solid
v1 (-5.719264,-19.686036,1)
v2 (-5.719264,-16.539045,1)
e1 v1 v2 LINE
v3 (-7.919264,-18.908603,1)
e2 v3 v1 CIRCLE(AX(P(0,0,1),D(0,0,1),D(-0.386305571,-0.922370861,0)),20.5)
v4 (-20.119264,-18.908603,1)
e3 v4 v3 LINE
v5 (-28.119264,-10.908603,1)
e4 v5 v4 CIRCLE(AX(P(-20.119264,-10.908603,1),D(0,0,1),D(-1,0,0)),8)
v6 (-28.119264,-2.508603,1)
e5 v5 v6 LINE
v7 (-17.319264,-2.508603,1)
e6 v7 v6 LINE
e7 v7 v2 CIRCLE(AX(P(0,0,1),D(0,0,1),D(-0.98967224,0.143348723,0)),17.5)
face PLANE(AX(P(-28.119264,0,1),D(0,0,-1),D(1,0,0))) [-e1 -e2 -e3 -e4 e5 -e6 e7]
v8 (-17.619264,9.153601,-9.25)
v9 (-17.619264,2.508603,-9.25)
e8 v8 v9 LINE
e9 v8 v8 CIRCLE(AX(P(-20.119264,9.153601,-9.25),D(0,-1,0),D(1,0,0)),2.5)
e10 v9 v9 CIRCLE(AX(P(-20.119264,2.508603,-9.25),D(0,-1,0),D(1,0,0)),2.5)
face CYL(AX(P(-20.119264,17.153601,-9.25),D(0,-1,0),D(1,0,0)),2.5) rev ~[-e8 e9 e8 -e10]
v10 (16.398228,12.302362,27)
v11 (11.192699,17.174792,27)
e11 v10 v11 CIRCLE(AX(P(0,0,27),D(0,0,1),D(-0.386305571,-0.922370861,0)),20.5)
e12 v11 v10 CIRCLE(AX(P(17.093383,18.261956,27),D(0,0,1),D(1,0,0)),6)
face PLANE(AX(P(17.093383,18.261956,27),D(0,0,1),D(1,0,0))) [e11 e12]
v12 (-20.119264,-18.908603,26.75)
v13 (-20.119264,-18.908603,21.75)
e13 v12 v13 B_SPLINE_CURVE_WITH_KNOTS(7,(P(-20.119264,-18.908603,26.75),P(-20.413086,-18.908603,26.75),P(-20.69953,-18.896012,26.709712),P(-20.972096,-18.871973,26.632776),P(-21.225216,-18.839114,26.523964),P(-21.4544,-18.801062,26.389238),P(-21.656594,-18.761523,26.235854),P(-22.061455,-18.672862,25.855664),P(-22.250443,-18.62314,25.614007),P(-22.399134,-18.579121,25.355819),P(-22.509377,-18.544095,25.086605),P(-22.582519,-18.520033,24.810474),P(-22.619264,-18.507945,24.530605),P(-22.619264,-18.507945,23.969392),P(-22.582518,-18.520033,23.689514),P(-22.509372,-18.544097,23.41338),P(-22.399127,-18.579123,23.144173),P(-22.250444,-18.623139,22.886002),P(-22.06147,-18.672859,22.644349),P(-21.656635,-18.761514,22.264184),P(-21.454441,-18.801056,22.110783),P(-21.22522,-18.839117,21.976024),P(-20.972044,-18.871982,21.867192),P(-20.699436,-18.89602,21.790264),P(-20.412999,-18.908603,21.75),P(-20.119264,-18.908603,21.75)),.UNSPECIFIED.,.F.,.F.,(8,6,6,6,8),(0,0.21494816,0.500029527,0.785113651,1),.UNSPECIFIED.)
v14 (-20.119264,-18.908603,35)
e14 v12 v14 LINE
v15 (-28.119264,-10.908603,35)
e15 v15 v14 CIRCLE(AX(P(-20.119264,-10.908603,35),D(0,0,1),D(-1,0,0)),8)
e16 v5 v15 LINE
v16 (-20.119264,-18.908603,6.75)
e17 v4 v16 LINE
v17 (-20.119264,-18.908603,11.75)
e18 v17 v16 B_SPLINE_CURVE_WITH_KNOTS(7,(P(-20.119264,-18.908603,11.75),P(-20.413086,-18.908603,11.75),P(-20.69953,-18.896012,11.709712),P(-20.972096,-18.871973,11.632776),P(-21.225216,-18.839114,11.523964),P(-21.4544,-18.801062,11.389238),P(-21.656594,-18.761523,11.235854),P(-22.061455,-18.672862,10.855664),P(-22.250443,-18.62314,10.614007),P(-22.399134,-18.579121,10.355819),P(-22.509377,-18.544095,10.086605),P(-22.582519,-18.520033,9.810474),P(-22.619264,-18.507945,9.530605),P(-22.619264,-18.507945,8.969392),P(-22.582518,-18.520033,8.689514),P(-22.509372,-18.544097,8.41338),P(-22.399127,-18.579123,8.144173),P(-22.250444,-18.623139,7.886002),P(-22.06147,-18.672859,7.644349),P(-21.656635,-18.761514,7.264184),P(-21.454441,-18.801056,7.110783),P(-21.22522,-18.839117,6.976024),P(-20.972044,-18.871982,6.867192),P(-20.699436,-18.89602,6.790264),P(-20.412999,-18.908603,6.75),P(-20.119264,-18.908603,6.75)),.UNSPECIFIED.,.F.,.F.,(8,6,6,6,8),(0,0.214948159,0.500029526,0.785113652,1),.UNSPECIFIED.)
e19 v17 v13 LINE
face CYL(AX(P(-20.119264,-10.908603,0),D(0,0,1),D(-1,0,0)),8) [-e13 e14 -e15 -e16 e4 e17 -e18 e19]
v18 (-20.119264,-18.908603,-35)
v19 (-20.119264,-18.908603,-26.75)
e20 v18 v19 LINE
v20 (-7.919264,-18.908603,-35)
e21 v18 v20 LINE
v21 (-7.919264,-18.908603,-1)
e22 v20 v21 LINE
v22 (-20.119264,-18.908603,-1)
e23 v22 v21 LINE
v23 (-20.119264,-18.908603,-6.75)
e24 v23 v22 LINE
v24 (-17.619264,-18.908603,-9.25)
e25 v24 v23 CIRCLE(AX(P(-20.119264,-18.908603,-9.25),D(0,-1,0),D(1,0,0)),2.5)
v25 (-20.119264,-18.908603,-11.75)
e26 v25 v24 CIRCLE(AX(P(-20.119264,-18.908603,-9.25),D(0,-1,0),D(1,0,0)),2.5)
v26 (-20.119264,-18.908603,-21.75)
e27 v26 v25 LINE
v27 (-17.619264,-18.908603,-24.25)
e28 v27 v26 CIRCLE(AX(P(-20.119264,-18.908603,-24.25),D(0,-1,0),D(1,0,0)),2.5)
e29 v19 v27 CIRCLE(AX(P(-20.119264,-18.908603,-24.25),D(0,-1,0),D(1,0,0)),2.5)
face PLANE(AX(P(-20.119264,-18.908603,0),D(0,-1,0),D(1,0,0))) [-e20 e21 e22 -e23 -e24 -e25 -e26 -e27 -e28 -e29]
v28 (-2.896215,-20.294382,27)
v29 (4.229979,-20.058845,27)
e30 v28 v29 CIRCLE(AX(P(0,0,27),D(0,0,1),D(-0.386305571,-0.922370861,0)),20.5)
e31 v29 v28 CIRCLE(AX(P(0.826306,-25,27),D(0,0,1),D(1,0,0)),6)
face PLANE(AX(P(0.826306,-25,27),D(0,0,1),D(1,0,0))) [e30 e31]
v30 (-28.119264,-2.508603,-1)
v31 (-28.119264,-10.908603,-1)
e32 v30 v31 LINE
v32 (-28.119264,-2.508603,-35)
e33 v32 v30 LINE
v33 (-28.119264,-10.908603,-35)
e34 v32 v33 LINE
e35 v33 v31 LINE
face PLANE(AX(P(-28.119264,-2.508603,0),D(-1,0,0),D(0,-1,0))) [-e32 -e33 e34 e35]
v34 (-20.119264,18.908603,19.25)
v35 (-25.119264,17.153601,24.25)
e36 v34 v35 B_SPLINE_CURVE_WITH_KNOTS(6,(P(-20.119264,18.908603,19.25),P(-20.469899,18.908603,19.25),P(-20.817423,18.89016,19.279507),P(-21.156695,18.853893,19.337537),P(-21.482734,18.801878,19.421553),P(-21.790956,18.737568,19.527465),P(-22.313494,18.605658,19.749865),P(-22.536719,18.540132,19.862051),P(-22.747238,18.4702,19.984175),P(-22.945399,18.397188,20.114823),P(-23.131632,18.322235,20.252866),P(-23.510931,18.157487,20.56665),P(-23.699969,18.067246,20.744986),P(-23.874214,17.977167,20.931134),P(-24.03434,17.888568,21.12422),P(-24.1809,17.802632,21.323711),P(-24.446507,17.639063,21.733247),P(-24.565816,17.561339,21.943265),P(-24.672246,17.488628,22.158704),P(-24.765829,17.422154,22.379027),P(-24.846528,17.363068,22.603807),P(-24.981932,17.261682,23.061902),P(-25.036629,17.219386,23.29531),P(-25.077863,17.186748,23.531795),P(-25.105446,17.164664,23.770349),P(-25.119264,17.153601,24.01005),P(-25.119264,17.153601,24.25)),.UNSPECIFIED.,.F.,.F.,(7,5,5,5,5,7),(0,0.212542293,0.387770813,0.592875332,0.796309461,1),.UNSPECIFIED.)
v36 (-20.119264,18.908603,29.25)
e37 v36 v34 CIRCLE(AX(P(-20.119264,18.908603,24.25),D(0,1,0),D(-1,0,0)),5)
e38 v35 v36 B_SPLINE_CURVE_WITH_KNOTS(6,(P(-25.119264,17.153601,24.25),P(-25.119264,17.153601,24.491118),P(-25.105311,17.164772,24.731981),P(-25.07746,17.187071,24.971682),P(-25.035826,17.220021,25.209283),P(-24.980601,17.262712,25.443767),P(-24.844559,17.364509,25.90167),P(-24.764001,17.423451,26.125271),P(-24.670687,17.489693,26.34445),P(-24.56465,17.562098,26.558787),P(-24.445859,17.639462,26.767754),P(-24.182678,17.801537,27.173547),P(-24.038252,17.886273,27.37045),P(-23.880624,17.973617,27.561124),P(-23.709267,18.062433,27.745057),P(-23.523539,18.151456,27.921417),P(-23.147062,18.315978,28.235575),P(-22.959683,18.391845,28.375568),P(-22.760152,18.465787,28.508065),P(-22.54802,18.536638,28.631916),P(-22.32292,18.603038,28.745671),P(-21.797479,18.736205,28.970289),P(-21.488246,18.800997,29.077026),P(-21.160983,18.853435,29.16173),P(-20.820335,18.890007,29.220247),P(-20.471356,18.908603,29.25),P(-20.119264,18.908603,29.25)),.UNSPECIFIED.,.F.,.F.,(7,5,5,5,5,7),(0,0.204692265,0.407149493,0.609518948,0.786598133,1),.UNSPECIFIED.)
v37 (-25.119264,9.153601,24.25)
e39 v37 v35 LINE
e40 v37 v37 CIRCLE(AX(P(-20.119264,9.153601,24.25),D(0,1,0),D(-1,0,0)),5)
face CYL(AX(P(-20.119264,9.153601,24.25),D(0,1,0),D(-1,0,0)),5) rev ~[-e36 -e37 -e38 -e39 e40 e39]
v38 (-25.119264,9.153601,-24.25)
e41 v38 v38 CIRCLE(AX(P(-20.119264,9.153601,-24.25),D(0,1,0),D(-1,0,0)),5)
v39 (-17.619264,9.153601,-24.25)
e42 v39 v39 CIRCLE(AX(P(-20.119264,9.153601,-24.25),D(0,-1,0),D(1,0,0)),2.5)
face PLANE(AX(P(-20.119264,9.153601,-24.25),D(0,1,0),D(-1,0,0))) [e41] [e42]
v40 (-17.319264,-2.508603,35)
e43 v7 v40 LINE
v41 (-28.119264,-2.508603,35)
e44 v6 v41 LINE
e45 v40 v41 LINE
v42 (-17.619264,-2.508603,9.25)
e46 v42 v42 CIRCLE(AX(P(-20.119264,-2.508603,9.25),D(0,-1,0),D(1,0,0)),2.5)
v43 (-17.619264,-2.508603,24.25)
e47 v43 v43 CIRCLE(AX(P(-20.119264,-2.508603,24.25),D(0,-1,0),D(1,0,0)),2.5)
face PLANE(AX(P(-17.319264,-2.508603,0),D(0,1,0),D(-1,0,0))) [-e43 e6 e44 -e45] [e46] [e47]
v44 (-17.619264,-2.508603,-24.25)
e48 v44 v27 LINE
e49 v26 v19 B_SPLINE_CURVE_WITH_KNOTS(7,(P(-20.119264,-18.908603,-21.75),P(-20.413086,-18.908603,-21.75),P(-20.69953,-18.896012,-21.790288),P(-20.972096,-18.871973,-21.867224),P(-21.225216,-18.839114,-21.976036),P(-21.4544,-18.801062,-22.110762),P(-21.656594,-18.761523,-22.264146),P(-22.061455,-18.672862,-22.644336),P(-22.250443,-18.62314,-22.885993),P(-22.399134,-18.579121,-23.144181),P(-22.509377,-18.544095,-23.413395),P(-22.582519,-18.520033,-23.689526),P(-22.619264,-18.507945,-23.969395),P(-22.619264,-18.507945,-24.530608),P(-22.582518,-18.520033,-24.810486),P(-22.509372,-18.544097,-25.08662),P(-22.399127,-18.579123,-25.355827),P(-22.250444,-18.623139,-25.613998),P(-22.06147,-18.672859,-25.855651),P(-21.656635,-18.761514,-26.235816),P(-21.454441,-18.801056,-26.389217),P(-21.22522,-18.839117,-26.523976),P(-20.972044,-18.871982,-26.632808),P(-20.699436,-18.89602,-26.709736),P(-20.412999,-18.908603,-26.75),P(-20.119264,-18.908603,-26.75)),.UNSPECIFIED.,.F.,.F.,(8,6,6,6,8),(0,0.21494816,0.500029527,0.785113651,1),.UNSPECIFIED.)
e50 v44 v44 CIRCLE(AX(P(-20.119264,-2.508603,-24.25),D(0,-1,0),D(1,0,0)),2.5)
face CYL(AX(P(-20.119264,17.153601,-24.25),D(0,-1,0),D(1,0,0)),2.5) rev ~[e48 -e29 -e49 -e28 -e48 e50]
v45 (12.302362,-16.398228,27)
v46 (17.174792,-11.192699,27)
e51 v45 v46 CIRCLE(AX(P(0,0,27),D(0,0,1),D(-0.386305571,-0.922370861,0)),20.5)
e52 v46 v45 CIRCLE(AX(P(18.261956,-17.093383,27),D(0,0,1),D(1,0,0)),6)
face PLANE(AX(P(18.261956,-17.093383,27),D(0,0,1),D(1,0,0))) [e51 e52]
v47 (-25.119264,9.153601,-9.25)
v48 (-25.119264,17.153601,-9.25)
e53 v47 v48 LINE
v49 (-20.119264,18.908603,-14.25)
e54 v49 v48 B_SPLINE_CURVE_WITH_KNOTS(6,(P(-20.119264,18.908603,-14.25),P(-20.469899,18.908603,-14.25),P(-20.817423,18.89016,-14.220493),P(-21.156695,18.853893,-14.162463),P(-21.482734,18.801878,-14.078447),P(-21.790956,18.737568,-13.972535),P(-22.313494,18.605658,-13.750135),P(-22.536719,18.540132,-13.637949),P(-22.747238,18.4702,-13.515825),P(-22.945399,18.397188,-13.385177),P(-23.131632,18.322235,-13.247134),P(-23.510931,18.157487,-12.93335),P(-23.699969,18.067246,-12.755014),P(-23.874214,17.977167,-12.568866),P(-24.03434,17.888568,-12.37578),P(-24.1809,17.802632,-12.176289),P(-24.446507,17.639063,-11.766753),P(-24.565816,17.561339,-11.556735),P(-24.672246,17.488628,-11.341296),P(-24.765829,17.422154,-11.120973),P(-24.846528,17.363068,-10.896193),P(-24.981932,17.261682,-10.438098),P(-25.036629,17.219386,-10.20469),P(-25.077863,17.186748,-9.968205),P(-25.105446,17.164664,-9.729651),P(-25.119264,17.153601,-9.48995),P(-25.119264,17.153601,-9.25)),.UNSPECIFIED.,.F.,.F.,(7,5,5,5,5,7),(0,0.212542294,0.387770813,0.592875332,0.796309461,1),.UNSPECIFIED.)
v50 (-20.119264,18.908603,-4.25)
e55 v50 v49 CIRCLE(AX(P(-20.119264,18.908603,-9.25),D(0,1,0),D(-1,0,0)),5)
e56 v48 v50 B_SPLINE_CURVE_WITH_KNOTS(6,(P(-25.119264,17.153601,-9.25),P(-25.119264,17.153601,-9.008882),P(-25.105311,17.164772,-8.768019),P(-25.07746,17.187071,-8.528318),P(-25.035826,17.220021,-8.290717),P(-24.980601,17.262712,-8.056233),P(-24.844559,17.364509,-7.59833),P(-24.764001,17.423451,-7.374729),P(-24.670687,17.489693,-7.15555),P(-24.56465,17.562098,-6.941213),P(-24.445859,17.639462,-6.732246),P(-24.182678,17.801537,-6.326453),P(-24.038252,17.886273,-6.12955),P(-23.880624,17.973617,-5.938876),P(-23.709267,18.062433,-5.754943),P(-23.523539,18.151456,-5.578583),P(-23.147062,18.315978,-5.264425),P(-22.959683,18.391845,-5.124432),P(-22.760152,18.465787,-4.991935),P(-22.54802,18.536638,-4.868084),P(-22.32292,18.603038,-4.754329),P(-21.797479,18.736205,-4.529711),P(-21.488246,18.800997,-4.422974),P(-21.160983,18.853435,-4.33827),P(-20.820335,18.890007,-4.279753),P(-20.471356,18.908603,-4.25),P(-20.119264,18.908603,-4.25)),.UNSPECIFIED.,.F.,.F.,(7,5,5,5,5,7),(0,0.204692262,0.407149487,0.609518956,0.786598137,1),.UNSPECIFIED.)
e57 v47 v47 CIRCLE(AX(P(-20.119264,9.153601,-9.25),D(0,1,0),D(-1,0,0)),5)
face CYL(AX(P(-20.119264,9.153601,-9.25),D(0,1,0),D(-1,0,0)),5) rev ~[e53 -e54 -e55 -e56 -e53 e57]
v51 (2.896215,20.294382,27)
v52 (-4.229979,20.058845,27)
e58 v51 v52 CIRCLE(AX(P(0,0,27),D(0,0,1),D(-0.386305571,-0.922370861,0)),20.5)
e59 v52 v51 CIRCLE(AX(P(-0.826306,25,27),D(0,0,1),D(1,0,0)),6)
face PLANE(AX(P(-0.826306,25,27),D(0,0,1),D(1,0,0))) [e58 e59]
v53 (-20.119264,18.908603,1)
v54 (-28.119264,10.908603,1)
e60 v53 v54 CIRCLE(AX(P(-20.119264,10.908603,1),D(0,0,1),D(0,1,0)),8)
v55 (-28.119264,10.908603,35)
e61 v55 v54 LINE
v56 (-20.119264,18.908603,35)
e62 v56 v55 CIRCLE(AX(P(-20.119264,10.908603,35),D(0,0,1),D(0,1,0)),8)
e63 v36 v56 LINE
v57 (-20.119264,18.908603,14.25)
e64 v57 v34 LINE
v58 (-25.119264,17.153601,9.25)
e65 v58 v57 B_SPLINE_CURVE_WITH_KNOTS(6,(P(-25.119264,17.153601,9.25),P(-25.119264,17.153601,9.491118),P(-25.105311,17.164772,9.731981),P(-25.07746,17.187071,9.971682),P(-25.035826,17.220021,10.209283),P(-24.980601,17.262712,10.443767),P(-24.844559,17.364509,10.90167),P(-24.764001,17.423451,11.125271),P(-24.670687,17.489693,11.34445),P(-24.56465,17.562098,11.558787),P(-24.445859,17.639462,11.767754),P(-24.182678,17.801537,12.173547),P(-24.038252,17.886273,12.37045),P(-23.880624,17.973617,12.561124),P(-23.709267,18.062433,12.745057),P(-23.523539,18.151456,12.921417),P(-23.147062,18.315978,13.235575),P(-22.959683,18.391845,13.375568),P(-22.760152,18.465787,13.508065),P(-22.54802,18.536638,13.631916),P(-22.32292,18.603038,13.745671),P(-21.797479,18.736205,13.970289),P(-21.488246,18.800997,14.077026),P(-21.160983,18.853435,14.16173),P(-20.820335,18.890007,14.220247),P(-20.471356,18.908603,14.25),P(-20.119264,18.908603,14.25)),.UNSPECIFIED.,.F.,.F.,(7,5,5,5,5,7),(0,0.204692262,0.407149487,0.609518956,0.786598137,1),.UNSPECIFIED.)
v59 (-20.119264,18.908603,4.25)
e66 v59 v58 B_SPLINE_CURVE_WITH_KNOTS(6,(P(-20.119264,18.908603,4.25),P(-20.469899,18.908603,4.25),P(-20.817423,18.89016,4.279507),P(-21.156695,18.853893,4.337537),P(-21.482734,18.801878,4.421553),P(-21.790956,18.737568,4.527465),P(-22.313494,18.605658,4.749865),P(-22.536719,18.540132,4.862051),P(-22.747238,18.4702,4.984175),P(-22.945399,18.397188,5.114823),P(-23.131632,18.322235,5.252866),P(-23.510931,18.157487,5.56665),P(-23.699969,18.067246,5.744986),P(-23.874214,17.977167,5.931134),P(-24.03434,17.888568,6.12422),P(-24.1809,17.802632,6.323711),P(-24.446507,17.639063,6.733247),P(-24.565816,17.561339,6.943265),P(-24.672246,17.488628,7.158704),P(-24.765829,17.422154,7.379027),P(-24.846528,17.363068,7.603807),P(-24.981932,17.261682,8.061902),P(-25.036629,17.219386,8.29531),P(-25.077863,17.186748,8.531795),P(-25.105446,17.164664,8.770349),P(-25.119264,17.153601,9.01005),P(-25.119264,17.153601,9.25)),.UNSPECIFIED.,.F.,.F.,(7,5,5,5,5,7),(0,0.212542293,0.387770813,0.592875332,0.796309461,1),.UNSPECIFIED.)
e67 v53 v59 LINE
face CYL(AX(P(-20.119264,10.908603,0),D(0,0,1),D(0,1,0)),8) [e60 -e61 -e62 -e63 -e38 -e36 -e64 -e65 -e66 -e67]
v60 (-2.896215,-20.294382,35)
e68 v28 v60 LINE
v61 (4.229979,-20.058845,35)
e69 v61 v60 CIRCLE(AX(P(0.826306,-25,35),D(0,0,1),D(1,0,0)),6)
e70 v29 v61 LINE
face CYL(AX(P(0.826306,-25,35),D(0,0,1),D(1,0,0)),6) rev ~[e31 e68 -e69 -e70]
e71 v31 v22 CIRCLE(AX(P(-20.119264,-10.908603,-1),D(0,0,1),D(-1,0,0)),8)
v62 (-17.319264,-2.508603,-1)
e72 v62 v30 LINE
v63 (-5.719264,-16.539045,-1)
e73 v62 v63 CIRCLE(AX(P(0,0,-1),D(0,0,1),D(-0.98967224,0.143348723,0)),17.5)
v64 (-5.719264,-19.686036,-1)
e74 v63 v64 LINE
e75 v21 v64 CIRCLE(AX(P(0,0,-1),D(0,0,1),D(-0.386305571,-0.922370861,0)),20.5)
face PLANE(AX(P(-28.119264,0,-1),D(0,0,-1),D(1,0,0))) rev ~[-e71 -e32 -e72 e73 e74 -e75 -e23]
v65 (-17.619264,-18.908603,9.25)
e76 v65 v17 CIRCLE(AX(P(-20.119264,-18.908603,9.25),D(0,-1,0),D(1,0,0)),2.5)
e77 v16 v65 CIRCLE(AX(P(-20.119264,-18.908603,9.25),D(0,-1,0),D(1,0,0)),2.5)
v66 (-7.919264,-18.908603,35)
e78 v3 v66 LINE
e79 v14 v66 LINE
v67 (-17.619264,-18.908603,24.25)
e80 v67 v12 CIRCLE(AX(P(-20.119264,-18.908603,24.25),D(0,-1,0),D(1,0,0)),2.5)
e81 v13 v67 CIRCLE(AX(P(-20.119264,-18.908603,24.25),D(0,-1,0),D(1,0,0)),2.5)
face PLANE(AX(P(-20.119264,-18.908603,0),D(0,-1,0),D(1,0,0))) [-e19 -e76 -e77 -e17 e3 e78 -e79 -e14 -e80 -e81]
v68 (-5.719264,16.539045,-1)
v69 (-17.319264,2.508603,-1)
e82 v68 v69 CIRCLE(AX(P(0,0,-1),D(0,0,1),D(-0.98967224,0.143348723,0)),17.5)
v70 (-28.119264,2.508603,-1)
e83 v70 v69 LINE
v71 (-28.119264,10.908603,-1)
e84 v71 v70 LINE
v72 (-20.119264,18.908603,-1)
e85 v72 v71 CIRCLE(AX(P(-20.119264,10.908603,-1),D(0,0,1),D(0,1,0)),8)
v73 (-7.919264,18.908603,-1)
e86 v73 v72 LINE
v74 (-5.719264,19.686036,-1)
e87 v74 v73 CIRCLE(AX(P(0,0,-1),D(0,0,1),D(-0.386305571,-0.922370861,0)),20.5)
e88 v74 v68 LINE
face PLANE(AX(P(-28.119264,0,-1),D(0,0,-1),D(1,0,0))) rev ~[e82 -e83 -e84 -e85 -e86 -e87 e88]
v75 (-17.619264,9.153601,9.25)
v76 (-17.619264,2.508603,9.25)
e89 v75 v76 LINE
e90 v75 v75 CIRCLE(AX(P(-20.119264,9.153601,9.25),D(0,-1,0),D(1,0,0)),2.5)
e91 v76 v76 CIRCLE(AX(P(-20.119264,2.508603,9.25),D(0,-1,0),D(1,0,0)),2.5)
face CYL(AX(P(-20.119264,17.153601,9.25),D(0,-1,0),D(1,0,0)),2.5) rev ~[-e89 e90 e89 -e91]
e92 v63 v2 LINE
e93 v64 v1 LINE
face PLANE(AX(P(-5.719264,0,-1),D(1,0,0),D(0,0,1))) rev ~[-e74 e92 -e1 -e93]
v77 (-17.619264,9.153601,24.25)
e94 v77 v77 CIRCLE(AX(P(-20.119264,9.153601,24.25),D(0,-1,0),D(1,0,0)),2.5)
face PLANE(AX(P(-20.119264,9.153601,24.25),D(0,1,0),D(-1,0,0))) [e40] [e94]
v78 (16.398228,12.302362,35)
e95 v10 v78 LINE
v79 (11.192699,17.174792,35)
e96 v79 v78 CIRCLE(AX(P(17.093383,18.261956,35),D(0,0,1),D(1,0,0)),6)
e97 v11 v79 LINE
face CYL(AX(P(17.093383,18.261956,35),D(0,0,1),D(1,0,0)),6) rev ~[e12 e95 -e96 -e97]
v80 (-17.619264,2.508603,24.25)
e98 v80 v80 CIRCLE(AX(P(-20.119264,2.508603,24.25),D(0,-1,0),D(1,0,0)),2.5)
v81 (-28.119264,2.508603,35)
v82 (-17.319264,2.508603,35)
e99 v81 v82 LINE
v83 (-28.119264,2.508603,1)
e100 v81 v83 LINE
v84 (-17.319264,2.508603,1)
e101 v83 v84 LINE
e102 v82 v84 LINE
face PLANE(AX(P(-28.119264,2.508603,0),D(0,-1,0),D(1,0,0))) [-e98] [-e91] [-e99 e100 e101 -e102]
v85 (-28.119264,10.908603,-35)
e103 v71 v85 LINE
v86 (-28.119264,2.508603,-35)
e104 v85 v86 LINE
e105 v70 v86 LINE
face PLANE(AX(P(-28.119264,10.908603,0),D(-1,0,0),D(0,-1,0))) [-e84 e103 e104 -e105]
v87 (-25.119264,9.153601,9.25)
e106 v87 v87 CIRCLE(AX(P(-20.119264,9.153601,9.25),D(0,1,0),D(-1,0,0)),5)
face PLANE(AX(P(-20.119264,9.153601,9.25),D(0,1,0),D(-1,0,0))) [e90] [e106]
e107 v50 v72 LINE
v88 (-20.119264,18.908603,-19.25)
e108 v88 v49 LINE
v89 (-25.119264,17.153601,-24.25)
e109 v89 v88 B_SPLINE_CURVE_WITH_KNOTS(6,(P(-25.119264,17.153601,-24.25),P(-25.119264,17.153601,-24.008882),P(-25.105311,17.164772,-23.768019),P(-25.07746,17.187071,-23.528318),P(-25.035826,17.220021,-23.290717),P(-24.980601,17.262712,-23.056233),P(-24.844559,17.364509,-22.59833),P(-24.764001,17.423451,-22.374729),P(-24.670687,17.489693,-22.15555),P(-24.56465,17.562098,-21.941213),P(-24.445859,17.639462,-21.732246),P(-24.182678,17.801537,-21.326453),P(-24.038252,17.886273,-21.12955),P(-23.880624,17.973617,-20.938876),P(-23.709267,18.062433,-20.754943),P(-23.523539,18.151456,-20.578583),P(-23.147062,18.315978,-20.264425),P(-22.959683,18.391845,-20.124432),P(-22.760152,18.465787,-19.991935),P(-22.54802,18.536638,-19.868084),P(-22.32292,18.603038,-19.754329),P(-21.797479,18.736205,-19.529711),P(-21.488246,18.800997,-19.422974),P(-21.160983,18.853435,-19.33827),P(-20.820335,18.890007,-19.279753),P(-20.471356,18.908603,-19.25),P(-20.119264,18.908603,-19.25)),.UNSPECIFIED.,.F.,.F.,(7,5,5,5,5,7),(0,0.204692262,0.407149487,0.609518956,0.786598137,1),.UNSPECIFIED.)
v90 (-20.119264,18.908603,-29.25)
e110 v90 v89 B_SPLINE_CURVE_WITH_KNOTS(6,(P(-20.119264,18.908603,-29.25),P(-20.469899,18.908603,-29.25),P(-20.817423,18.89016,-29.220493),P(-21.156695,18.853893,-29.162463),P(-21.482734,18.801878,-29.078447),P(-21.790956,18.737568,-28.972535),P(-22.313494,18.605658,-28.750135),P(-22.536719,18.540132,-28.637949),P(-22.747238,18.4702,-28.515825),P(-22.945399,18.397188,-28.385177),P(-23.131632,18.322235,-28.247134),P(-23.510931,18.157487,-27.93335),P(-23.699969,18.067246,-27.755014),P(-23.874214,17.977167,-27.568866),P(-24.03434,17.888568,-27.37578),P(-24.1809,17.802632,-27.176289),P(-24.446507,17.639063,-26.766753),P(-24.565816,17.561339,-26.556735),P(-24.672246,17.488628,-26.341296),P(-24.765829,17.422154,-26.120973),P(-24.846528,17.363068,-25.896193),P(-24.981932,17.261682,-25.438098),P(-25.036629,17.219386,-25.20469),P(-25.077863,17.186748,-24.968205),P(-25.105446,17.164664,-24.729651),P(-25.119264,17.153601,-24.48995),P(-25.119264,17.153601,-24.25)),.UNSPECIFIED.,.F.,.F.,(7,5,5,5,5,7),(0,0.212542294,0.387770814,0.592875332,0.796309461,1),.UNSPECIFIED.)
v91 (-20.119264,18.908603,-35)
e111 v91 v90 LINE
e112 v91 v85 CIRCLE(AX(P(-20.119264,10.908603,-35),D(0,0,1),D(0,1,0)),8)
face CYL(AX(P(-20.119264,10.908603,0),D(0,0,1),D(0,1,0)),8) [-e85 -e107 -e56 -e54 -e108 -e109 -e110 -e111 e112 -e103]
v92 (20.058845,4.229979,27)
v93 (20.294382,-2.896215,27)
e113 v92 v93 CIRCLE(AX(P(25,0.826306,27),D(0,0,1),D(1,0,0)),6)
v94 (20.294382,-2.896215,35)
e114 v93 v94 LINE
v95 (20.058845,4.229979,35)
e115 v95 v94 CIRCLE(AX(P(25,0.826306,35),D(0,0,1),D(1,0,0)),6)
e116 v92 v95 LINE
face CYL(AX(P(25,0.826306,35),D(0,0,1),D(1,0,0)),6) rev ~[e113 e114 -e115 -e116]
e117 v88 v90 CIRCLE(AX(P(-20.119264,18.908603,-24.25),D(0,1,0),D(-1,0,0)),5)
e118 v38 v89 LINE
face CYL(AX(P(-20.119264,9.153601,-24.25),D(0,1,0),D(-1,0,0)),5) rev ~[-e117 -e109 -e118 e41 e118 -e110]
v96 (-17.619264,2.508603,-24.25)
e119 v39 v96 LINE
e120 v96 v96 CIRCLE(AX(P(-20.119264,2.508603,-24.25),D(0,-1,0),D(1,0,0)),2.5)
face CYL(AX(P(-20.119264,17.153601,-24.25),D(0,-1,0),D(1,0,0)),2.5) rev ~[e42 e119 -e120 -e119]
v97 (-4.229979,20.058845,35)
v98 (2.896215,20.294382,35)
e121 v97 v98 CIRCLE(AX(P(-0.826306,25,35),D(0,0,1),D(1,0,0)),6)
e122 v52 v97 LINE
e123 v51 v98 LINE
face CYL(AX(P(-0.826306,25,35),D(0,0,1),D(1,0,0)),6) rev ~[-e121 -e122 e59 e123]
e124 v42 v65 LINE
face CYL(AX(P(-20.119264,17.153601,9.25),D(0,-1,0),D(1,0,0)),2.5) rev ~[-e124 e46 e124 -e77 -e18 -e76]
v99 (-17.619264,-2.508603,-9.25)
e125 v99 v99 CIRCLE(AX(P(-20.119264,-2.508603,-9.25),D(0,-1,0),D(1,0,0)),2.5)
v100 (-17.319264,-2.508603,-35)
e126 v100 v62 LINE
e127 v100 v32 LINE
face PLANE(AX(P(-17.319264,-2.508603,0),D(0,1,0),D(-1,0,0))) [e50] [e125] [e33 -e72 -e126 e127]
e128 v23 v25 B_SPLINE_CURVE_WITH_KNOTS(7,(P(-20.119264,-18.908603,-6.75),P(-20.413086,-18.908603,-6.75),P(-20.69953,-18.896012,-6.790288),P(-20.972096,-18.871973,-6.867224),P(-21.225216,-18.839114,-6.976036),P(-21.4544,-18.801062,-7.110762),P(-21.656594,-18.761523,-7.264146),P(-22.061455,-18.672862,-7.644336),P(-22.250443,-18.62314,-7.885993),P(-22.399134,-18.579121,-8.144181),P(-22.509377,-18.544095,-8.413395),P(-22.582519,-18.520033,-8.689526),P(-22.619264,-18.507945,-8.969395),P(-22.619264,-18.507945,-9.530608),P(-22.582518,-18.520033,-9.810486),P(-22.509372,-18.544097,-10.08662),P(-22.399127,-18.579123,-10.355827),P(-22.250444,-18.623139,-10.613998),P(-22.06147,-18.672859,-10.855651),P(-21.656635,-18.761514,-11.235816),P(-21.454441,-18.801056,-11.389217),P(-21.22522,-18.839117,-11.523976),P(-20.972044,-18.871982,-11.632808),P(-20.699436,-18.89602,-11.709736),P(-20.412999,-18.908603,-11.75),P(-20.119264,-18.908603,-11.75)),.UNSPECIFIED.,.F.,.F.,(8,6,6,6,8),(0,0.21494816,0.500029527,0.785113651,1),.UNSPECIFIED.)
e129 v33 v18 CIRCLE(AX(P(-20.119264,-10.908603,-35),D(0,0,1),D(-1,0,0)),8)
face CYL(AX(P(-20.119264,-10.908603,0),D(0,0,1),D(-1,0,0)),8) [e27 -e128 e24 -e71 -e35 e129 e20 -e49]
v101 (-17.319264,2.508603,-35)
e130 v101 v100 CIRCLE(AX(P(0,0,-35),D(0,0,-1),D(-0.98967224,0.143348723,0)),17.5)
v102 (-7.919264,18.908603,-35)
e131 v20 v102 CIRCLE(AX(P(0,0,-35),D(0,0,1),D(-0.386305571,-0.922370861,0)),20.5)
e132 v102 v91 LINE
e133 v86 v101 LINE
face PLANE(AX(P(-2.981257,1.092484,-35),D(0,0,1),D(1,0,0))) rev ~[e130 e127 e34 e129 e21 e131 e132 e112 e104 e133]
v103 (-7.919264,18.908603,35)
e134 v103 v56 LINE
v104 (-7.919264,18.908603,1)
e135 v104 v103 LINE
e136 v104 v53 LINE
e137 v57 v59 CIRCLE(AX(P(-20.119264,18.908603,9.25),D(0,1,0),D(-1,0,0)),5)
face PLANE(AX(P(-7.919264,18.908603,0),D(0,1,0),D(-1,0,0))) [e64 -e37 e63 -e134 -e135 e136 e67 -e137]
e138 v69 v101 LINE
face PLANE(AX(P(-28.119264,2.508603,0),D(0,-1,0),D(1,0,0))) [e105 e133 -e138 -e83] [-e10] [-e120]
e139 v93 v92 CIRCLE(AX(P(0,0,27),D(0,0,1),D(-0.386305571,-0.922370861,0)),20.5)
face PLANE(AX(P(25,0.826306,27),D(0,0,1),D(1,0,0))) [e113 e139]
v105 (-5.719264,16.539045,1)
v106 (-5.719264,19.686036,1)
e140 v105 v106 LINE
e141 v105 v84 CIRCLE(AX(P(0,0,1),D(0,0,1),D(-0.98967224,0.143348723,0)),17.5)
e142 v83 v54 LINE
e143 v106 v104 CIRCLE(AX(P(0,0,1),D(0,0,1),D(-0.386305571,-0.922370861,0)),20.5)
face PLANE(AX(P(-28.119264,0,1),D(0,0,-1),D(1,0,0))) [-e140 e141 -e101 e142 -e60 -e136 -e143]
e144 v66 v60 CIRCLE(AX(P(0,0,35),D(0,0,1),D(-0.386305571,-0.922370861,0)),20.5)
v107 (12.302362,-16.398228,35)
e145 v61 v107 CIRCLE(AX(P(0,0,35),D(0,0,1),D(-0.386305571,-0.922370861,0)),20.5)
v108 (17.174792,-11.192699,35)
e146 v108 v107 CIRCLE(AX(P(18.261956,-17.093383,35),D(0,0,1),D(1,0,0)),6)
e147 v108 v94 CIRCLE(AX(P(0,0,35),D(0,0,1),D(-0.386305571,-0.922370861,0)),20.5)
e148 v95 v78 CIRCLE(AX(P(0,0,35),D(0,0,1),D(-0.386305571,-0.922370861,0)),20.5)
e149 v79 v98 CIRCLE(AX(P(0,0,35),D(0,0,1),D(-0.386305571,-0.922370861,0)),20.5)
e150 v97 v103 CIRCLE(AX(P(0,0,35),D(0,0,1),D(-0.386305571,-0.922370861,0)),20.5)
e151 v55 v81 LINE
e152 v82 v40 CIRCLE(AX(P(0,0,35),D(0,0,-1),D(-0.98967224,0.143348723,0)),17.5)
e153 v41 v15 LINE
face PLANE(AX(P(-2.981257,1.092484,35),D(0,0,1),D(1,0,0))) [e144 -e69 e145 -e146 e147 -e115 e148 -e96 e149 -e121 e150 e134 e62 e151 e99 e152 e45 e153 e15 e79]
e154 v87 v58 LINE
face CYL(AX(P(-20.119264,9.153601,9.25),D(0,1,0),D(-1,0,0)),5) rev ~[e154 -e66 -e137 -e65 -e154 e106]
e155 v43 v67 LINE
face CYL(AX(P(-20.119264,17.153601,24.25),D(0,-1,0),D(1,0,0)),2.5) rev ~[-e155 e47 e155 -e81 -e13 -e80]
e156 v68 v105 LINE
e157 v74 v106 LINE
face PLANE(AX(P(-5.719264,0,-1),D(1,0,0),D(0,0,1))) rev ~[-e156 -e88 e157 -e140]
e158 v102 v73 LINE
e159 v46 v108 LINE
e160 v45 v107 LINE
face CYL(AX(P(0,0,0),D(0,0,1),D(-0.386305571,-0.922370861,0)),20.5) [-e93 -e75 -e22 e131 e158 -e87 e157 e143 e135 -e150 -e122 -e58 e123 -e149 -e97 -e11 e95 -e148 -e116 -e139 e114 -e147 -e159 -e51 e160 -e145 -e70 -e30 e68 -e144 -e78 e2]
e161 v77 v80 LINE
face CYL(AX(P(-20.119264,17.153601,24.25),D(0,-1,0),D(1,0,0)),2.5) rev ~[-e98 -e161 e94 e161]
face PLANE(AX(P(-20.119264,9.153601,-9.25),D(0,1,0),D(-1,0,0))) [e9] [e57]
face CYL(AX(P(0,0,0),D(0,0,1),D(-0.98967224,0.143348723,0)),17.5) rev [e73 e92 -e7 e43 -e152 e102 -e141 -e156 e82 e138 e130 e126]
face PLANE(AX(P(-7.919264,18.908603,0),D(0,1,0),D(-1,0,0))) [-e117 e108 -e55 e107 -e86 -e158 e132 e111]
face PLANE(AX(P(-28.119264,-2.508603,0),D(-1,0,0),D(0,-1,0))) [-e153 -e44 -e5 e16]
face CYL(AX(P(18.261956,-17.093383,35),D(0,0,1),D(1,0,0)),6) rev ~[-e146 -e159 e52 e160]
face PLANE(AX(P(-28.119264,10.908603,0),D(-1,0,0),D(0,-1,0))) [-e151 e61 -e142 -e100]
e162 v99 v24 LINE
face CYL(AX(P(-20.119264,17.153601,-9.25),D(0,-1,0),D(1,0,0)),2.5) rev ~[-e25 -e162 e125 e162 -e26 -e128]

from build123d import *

# Parameters (mm, degrees)
F1_DEPTH       = 35
F3_D           = 5
F3_START       = 1.7550021
F3_CBORE_D     = 10
F3_CBORE_DEPTH = 8
F4_W           = 22.4
F4_H           = 2
F5_DEPTH       = 25
F6_R           = 6
F7_DEPTH       = 8


with BuildPart() as f1:
    # F0 (on Top) → F1 (new body, symmetric)
    with BuildSketch(Plane.XY):
        with BuildLine():
            ThreePointArc((-17.3192642082, 2.5086026559), (17.5, 0), (-17.3192642082, -2.5086026559))
            Line((-17.3192642082, -2.5086026559), (-20.3459311096, -2.5086026559))
            ThreePointArc((-20.3459311096, -2.5086026559), (-16.3392263155, -12.3806172468), (-7.9192642082, -18.9086026559))
            ThreePointArc((-7.9192642082, -18.9086026559), (20.5, 0), (-7.9192642082, 18.9086026559))
            Line((-7.9192642082, 18.9086026559), (-20.1192642082, 18.9086026559))
            ThreePointArc((-20.1192642082, 18.9086026559), (-25.7761184577, 16.5654569054), (-28.1192642082, 10.9086026559))
            Line((-28.1192642082, 10.9086026559), (-28.1192642082, 2.5086026559))
            Line((-28.1192642082, 2.5086026559), (-17.3192642082, 2.5086026559))
        make_face()
        with BuildLine():
            ThreePointArc((-7.9192642082, -18.9086026559), (-16.3392263155, -12.3806172468), (-20.3459311096, -2.5086026559))
            Line((-20.3459311096, -2.5086026559), (-28.1192642082, -2.5086026559))
            Line((-28.1192642082, -2.5086026559), (-28.1192642082, -10.9086026559))
            ThreePointArc((-28.1192642082, -10.9086026559), (-25.7761184577, -16.5654569054), (-20.1192642082, -18.9086026559))
            Line((-20.1192642082, -18.9086026559), (-7.9192642082, -18.9086026559))
        make_face()
    extrude(amount=F1_DEPTH, both=True)

    # F3 (through all)
    # its depths count from where the whole tool has entered the part; down to there all is cleared
    with Locations(Plane(origin=(0, 18.9086026559, 0), x_dir=(-1, 0, 0), z_dir=(0, 1, 0)).offset(-F3_START)):
        with Locations((20.1192642082, 24.25), (20.1192642082, 9.25), (20.1192642082, -9.25), (20.1192642082, -24.25)):
            CounterBoreHole(F3_D / 2, F3_CBORE_D / 2, F3_CBORE_DEPTH)

    # F4 (on Front) → F5 (cut, symmetric)
    with BuildSketch(Plane.XZ):
        with Locations((-16.9192642082, 0)):
            Rectangle(F4_W, F4_H)
    extrude(amount=F5_DEPTH, both=True, mode=Mode.SUBTRACT)

    # F6 (on face) → F7 (cut)
    with BuildSketch(Plane.XY.offset(35)):
        with Locations((0.8263058844, -25)):
            Circle(F6_R)
        with Locations((18.2619560239, -17.0933830355)):
            Circle(F6_R)
        with Locations((25, 0.8263058844)):
            Circle(F6_R)
        with Locations((17.0933830355, 18.2619560239)):
            Circle(F6_R)
        with Locations((-0.8263058844, 25)):
            Circle(F6_R)
    extrude(amount=-F7_DEPTH, mode=Mode.SUBTRACT)


solid = f1.part
